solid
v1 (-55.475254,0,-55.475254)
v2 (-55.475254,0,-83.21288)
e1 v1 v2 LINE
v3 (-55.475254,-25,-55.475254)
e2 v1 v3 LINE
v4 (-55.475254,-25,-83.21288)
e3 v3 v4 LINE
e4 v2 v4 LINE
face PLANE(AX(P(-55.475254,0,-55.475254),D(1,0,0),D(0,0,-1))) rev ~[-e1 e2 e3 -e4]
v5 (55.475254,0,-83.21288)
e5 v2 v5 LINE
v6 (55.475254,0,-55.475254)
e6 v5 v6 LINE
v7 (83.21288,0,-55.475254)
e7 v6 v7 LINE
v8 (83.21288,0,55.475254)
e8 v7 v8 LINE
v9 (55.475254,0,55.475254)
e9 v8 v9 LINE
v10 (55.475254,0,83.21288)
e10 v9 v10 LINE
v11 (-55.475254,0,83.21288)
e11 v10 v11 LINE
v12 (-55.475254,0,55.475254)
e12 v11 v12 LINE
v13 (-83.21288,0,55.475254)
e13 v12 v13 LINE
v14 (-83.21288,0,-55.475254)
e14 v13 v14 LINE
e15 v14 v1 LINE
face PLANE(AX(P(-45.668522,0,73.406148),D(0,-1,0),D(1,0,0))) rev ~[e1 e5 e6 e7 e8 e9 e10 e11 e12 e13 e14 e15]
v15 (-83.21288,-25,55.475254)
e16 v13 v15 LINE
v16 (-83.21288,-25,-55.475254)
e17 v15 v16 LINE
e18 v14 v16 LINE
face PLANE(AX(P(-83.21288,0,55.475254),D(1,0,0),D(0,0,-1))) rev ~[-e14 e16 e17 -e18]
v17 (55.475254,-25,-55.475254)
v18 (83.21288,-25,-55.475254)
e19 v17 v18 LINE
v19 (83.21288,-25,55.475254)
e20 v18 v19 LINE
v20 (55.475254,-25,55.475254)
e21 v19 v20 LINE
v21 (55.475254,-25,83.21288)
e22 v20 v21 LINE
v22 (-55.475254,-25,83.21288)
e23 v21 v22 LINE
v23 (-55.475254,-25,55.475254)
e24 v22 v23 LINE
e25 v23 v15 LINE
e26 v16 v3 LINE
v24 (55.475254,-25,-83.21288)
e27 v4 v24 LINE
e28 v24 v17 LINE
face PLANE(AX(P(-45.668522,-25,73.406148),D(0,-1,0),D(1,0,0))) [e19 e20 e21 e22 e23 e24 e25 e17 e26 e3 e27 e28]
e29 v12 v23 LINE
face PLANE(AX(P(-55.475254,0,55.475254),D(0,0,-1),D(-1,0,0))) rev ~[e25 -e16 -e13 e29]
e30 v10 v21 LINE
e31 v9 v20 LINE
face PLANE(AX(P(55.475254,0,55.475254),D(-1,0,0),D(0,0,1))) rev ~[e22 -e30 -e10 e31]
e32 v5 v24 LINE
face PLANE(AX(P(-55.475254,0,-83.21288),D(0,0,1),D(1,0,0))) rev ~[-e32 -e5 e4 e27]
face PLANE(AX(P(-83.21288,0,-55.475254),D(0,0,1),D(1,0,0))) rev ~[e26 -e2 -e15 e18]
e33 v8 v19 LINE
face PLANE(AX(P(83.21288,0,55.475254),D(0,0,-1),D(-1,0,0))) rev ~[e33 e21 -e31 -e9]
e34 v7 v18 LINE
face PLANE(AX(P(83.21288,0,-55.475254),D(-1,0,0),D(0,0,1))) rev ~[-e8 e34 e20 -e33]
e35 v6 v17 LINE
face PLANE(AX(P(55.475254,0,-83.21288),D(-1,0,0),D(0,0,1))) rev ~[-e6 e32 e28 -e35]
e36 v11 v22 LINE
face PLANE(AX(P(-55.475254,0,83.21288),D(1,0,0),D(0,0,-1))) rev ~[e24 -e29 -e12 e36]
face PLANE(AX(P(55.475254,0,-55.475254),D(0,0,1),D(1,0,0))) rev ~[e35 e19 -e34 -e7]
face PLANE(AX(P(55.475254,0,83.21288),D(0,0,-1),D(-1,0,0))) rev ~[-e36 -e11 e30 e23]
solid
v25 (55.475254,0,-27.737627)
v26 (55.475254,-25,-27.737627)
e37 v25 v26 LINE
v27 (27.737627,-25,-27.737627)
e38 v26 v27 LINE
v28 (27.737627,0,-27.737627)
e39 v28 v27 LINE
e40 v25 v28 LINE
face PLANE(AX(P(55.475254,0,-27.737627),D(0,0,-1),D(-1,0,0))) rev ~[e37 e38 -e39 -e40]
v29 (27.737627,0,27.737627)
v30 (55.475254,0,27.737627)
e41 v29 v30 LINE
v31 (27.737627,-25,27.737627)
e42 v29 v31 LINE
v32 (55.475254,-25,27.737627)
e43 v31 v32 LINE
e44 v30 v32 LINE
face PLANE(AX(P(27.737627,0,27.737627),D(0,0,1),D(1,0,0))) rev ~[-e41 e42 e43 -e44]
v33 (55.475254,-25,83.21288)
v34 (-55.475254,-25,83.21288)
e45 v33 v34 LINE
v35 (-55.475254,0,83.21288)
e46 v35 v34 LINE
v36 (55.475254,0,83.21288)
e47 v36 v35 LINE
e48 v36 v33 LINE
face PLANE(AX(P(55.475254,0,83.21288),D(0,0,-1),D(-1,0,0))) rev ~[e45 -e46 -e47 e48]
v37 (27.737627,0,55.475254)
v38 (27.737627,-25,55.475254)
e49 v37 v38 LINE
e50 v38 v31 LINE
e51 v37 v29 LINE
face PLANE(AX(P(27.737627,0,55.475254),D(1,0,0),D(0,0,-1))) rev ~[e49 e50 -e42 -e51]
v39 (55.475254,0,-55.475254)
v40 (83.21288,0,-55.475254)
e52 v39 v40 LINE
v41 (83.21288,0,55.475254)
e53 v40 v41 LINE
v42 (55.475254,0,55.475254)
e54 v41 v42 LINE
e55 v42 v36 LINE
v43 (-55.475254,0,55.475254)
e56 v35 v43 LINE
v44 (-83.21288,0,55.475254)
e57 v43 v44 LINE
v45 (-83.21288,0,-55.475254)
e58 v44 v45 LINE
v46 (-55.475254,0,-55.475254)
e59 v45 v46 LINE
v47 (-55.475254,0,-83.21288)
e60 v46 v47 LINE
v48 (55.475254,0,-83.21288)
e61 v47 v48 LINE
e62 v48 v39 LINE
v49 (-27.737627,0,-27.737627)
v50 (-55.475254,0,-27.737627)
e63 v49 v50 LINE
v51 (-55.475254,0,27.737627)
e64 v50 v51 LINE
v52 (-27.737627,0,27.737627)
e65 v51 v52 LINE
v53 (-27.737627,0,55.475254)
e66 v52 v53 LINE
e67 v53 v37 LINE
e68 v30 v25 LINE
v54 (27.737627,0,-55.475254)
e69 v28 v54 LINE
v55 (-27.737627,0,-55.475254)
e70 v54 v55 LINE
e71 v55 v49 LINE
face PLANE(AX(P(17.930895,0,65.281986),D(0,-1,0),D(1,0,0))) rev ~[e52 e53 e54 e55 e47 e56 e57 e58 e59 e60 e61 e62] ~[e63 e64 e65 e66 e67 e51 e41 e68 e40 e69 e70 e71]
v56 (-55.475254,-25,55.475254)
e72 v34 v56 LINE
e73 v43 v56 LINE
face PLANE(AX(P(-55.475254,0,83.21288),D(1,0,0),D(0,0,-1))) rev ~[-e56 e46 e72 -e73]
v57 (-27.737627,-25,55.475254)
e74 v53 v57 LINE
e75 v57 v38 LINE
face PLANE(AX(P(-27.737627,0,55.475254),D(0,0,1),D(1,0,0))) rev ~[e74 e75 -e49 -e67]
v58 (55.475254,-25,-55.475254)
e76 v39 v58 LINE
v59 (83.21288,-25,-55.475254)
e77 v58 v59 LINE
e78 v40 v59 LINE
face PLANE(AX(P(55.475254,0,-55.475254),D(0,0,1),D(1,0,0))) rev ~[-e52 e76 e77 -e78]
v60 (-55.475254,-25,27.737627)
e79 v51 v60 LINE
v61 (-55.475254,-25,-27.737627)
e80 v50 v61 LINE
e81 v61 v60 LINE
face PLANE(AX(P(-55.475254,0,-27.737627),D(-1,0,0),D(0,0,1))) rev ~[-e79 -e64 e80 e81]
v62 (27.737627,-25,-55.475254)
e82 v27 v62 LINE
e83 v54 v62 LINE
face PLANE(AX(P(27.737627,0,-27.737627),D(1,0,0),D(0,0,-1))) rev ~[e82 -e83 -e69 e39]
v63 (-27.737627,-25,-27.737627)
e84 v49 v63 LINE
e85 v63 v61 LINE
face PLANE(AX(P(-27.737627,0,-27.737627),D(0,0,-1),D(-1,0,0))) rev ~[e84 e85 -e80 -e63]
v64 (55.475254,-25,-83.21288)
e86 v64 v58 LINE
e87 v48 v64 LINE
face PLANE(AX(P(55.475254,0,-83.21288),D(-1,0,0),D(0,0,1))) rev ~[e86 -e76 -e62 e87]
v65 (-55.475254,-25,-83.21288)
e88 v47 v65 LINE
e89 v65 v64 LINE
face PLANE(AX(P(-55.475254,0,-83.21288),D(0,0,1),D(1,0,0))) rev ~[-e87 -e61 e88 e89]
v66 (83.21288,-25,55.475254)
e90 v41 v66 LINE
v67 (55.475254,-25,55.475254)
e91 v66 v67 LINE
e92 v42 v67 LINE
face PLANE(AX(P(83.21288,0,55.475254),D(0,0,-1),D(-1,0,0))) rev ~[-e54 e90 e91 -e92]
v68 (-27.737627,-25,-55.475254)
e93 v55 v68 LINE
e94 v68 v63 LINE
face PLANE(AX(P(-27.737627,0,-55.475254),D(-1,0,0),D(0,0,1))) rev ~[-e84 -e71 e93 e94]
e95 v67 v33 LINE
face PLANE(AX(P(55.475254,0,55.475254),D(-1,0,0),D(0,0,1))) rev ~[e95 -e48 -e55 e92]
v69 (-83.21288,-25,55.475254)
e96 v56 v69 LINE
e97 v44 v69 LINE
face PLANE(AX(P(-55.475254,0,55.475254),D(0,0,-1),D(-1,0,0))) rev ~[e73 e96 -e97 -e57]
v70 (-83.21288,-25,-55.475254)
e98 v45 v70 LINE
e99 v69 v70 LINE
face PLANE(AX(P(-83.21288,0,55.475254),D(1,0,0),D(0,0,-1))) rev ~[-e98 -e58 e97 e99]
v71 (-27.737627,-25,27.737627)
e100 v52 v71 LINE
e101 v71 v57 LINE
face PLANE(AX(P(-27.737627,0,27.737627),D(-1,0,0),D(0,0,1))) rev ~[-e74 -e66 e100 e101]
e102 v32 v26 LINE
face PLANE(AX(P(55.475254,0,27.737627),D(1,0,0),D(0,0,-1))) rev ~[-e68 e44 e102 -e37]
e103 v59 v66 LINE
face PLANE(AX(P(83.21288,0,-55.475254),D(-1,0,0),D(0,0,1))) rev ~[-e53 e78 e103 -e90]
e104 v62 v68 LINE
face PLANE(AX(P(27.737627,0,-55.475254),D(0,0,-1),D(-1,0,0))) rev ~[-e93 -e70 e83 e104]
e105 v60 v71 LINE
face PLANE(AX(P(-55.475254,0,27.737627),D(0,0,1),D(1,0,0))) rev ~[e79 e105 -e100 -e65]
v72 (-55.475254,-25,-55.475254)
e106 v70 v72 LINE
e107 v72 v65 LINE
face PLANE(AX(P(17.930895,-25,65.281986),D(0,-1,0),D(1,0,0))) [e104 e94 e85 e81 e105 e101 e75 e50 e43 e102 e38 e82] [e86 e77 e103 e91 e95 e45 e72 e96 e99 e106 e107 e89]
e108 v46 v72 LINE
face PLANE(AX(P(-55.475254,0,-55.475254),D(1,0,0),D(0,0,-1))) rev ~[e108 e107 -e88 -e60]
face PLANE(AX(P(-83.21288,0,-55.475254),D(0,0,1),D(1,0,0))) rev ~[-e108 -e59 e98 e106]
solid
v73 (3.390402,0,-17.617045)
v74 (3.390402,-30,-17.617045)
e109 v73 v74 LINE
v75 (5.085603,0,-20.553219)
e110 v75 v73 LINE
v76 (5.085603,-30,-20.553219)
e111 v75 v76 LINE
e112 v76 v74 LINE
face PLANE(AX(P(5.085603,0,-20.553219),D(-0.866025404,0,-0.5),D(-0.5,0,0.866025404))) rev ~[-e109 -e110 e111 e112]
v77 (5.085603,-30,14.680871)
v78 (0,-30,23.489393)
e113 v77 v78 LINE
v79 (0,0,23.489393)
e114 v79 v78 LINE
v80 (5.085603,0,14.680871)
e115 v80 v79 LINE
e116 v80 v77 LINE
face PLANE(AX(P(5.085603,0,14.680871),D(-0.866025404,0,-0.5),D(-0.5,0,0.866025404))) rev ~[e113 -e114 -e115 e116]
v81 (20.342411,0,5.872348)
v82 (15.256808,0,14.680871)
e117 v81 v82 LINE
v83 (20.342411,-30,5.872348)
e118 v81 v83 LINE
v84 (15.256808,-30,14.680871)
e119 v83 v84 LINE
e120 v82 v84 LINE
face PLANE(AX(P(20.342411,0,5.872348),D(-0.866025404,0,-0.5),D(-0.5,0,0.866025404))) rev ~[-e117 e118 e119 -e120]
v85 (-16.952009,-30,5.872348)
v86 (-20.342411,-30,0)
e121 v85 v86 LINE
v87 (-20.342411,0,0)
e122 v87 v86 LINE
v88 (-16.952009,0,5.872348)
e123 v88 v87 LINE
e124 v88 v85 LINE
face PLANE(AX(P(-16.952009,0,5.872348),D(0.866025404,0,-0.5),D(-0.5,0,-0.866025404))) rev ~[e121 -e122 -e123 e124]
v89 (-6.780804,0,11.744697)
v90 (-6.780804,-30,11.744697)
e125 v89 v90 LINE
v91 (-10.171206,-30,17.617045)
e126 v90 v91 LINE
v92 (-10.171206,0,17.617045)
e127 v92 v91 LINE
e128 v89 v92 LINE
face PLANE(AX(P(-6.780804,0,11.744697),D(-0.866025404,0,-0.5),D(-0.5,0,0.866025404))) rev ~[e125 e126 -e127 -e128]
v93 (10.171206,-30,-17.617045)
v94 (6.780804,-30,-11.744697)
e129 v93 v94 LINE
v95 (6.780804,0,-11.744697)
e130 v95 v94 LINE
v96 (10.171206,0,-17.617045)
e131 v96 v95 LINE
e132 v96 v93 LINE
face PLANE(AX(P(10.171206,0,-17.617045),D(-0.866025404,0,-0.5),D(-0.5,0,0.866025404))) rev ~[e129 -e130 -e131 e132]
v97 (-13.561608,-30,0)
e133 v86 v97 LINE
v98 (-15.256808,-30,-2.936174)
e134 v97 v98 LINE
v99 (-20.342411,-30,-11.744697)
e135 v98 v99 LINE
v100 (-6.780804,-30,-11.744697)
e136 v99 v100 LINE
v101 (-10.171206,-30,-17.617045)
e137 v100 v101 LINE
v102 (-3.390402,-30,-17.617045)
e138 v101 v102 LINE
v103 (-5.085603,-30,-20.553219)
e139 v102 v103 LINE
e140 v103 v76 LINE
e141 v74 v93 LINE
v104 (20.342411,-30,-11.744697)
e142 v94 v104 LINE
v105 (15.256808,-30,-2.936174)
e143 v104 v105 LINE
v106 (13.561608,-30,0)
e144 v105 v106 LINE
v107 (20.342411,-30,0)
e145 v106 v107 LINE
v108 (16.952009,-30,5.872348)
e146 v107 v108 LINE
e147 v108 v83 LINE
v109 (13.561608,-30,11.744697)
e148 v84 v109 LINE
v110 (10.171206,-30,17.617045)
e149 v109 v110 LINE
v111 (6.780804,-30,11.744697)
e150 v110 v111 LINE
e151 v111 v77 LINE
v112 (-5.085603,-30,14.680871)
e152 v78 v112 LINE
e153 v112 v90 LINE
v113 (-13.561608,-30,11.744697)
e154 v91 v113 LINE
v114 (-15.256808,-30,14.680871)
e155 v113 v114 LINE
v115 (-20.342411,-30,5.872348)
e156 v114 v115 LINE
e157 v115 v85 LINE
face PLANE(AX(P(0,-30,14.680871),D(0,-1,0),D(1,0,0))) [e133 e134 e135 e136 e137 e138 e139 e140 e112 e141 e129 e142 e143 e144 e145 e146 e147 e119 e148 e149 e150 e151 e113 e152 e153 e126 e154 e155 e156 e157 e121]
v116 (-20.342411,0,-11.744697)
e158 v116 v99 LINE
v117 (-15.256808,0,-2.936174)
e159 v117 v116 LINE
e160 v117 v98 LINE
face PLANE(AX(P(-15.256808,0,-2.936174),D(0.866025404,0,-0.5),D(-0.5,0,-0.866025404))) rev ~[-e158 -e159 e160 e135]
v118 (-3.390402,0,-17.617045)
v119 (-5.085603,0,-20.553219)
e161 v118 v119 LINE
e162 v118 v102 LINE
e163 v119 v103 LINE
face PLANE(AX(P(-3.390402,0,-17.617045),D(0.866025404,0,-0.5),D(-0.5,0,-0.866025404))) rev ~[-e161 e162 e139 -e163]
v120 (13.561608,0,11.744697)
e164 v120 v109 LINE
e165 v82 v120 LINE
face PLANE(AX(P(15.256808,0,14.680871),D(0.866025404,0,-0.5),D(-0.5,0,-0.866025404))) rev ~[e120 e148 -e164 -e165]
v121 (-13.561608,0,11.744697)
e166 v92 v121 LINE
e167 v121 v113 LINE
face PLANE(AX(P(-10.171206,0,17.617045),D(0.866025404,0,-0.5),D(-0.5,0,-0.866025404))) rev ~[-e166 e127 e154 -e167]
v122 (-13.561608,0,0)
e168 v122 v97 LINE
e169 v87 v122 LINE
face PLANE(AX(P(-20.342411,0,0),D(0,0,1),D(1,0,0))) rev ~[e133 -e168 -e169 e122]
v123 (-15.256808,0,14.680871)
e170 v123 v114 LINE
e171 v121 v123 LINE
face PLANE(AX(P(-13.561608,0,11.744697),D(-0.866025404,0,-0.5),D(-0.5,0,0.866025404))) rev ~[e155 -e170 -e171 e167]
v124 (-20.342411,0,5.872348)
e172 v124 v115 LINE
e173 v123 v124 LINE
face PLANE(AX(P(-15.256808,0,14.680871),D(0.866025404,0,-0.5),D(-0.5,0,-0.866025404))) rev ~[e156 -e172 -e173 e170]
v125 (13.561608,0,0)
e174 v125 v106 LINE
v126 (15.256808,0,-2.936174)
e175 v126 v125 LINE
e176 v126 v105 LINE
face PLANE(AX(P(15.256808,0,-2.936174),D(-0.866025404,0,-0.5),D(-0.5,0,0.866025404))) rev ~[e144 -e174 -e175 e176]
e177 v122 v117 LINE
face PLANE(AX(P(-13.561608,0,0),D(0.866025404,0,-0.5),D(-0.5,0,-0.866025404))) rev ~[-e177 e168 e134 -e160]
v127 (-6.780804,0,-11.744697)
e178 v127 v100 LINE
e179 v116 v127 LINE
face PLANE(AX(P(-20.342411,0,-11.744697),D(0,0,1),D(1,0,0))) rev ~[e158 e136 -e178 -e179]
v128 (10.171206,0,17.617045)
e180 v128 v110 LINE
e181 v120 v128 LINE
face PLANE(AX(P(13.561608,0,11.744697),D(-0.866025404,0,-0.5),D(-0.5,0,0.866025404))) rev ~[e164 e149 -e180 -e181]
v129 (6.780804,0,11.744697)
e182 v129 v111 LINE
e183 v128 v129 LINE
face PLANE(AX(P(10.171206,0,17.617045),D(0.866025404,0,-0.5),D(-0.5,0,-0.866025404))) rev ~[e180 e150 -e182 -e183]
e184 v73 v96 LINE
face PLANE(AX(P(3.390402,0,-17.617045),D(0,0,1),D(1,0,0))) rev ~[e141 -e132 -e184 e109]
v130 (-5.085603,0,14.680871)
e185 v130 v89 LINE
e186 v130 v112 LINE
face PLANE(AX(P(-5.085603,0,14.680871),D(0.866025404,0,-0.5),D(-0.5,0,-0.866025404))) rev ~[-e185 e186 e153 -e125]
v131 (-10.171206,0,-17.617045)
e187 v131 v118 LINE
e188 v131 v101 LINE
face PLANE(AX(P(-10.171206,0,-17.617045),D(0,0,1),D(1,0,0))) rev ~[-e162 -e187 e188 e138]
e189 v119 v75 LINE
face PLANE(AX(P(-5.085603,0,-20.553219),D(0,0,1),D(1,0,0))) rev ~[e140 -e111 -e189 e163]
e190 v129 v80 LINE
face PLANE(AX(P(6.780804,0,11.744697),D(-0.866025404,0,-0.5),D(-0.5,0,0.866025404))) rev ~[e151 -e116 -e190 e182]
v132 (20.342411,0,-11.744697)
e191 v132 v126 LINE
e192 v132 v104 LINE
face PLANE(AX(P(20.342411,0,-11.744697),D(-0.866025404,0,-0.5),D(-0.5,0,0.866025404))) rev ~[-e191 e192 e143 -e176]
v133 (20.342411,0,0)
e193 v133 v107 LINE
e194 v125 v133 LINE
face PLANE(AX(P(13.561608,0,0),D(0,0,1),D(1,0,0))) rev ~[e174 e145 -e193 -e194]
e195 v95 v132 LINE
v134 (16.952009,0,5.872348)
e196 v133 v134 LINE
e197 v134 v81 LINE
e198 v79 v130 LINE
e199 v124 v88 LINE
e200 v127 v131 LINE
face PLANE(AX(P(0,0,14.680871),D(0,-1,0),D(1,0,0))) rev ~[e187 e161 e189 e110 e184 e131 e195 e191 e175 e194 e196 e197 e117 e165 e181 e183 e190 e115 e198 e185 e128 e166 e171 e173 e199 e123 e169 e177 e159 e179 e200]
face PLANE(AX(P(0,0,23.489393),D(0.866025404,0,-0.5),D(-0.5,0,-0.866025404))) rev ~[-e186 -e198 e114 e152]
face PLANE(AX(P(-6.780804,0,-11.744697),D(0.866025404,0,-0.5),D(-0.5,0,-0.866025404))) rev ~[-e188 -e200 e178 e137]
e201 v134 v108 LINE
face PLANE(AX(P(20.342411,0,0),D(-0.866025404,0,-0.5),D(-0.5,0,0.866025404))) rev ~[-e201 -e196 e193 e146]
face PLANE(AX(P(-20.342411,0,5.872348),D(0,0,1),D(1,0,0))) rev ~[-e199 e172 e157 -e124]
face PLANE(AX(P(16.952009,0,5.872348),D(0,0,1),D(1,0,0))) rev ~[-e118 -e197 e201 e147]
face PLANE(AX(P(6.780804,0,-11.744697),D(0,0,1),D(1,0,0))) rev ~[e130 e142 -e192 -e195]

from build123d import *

# Parameters (mm, degrees)
F1_DEPTH = 30
F3_DEPTH = 25
F4_DEPTH = 25
F6_DEPTH = 25


with BuildPart() as f1:
    # F0 (on Front) → F1 (new body)
    with BuildSketch(Plane.XZ):
        Polygon((5.085602828, 14.6808708087), (0, 23.4893932939), (-5.085602828, 14.6808708087), (0, 5.8723483235), align=None)
        Polygon((6.7808037707, 11.7446966469), (5.085602828, 14.6808708087), (0, 5.8723483235), (3.3904018853, 5.8723483235), align=None)
        Polygon((10.171205656, 5.8723483235), (6.7808037707, 11.7446966469), (3.3904018853, 5.8723483235), align=None)
        Polygon((10.171205656, 17.6170449704), (6.7808037707, 11.7446966469), (10.171205656, 5.8723483235), (13.5616075413, 11.7446966469), align=None)
        Polygon((13.5616075413, 11.7446966469), (10.171205656, 5.8723483235), (16.9520094266, 5.8723483235), align=None)
        Polygon((15.256808484, 14.6808708087), (13.5616075413, 11.7446966469), (16.9520094266, 5.8723483235), (20.342411312, 5.8723483235), align=None)
        Polygon((16.9520094266, 5.8723483235), (10.171205656, 5.8723483235), (13.5616075413, 0), (20.342411312, 0), align=None)
        Polygon((13.5616075413, 0), (10.171205656, 5.8723483235), (6.7808037707, 0), align=None)
        Polygon((10.171205656, 5.8723483235), (3.3904018853, 5.8723483235), (0, 0), (6.7808037707, 0), align=None)
        Polygon((0, 5.8723483235), (-5.085602828, 14.6808708087), (-6.7808037707, 11.7446966469), (-3.3904018853, 5.8723483235), align=None)
        Polygon((-3.3904018853, 5.8723483235), (-6.7808037707, 11.7446966469), (-10.171205656, 5.8723483235), align=None)
        Polygon((-10.171205656, 5.8723483235), (-6.7808037707, 11.7446966469), (-10.171205656, 17.6170449704), (-13.5616075413, 11.7446966469), align=None)
        Polygon((-16.9520094266, 5.8723483235), (-13.5616075413, 11.7446966469), (-15.256808484, 14.6808708087), (-20.342411312, 5.8723483235), align=None)
        Polygon((-16.9520094266, 5.8723483235), (-10.171205656, 5.8723483235), (-13.5616075413, 11.7446966469), align=None)
        Polygon((-13.5616075413, 0), (-10.171205656, 5.8723483235), (-16.9520094266, 5.8723483235), (-20.342411312, 0), align=None)
        Polygon((-6.7808037707, 0), (-10.171205656, 5.8723483235), (-13.5616075413, 0), align=None)
        Polygon((0, 0), (-3.3904018853, 5.8723483235), (-10.171205656, 5.8723483235), (-6.7808037707, 0), align=None)
        Polygon((3.3904018853, 5.8723483235), (0, 5.8723483235), (-3.3904018853, 5.8723483235), (0, 0), align=None)
        Polygon((15.256808484, -2.9361741617), (13.5616075413, 0), (6.7808037707, 0), (5.085602828, -2.9361741617), align=None)
        Polygon((20.342411312, -11.7446966469), (15.256808484, -2.9361741617), (5.085602828, -2.9361741617), (10.171205656, -11.7446966469), align=None)
        Polygon((5.085602828, -2.9361741617), (3.3904018853, -5.8723483235), (6.7808037707, -11.7446966469), (10.171205656, -11.7446966469), align=None)
        Polygon((6.7808037707, -11.7446966469), (3.3904018853, -5.8723483235), (0, -11.7446966469), align=None)
        Polygon((3.3904018853, -5.8723483235), (0, 0), (-3.3904018853, -5.8723483235), (0, -11.7446966469), align=None)
        Polygon((6.7808037707, 0), (0, 0), (3.3904018853, -5.8723483235), (5.085602828, -2.9361741617), align=None)
        Polygon((-3.3904018853, -5.8723483235), (0, 0), (-6.7808037707, 0), (-5.085602828, -2.9361741617), align=None)
        Polygon((-6.7808037707, -11.7446966469), (-3.3904018853, -5.8723483235), (-5.085602828, -2.9361741617), (-10.171205656, -11.7446966469), align=None)
        Polygon((-5.085602828, -2.9361741617), (-6.7808037707, 0), (-13.5616075413, 0), (-15.256808484, -2.9361741617), align=None)
        Polygon((-10.171205656, -11.7446966469), (-5.085602828, -2.9361741617), (-15.256808484, -2.9361741617), (-20.342411312, -11.7446966469), align=None)
        Polygon((0, -11.7446966469), (-3.3904018853, -5.8723483235), (-6.7808037707, -11.7446966469), align=None)
        Polygon((-3.3904018853, -17.6170449704), (0, -11.7446966469), (-6.7808037707, -11.7446966469), (-10.171205656, -17.6170449704), align=None)
        Polygon((3.3904018853, -17.6170449704), (0, -11.7446966469), (-3.3904018853, -17.6170449704), align=None)
        Polygon((10.171205656, -17.6170449704), (6.7808037707, -11.7446966469), (0, -11.7446966469), (3.3904018853, -17.6170449704), align=None)
        Polygon((5.085602828, -20.5532191321), (3.3904018853, -17.6170449704), (-3.3904018853, -17.6170449704), (-5.085602828, -20.5532191321), align=None)
    extrude(amount=F1_DEPTH)


with BuildPart() as f3:
    # F2 (on Front) → F3 (new body)
    with BuildSketch(Plane.XZ):
        Polygon((27.7376268059, 83.2128804177), (0, 55.4752536118), (27.7376268059, 55.4752536118), align=None)
        Polygon((0, 83.2128804177), (0, 55.4752536118), (27.7376268059, 83.2128804177), align=None)
        Polygon((-27.7376268059, 55.4752536118), (0, 55.4752536118), (-27.7376268059, 83.2128804177), align=None)
        Polygon((-27.7376268059, 83.2128804177), (0, 55.4752536118), (0, 83.2128804177), align=None)
        Polygon((27.7376268059, 55.4752536118), (27.7376268059, 27.7376268059), (55.4752536118, 55.4752536118), align=None)
        Polygon((55.4752536118, 55.4752536118), (27.7376268059, 27.7376268059), (55.4752536118, 27.7376268059), align=None)
        Polygon((-55.4752536118, 27.7376268059), (-27.7376268059, 27.7376268059), (-55.4752536118, 55.4752536118), align=None)
        Polygon((-55.4752536118, 55.4752536118), (-27.7376268059, 27.7376268059), (-27.7376268059, 55.4752536118), align=None)
        Polygon((27.7376268059, 83.2128804177), (27.7376268059, 55.4752536118), (55.4752536118, 55.4752536118), align=None)
        Polygon((-55.4752536118, 55.4752536118), (-27.7376268059, 55.4752536118), (-27.7376268059, 83.2128804177), align=None)
        Polygon((55.4752536118, 83.2128804177), (27.7376268059, 83.2128804177), (55.4752536118, 55.4752536118), align=None)
        Polygon((-55.4752536118, 55.4752536118), (-27.7376268059, 83.2128804177), (-55.4752536118, 83.2128804177), align=None)
        Polygon((83.2128804177, -27.7376268059), (55.4752536118, 0), (55.4752536118, -27.7376268059), align=None)
        Polygon((55.4752536118, 27.7376268059), (55.4752536118, 0), (83.2128804177, 27.7376268059), align=None)
        Polygon((83.2128804177, 0), (55.4752536118, 0), (83.2128804177, -27.7376268059), align=None)
        Polygon((83.2128804177, 27.7376268059), (55.4752536118, 0), (83.2128804177, 0), align=None)
        Polygon((83.2128804177, 27.7376268059), (55.4752536118, 55.4752536118), (55.4752536118, 27.7376268059), align=None)
        Polygon((83.2128804177, 55.4752536118), (55.4752536118, 55.4752536118), (83.2128804177, 27.7376268059), align=None)
        Polygon((-83.2128804177, 27.7376268059), (-55.4752536118, 0), (-55.4752536118, 27.7376268059), align=None)
        Polygon((-55.4752536118, -27.7376268059), (-55.4752536118, 0), (-83.2128804177, -27.7376268059), align=None)
        Polygon((-83.2128804177, 0), (-55.4752536118, 0), (-83.2128804177, 27.7376268059), align=None)
        Polygon((-83.2128804177, -27.7376268059), (-55.4752536118, 0), (-83.2128804177, 0), align=None)
        Polygon((-55.4752536118, 27.7376268059), (-55.4752536118, 55.4752536118), (-83.2128804177, 27.7376268059), align=None)
        Polygon((-83.2128804177, 27.7376268059), (-55.4752536118, 55.4752536118), (-83.2128804177, 55.4752536118), align=None)
        Polygon((55.4752536118, -27.7376268059), (27.7376268059, -27.7376268059), (55.4752536118, -55.4752536118), align=None)
        Polygon((55.4752536118, -55.4752536118), (27.7376268059, -27.7376268059), (27.7376268059, -55.4752536118), align=None)
        Polygon((83.2128804177, -27.7376268059), (55.4752536118, -27.7376268059), (55.4752536118, -55.4752536118), align=None)
        Polygon((83.2128804177, -55.4752536118), (83.2128804177, -27.7376268059), (55.4752536118, -55.4752536118), align=None)
        Polygon((-27.7376268059, -55.4752536118), (-27.7376268059, -27.7376268059), (-55.4752536118, -55.4752536118), align=None)
        Polygon((-55.4752536118, -55.4752536118), (-27.7376268059, -27.7376268059), (-55.4752536118, -27.7376268059), align=None)
        Polygon((-55.4752536118, -55.4752536118), (-55.4752536118, -27.7376268059), (-83.2128804177, -27.7376268059), align=None)
        Polygon((-55.4752536118, -55.4752536118), (-83.2128804177, -27.7376268059), (-83.2128804177, -55.4752536118), align=None)
        Polygon((-27.7376268059, -83.2128804177), (0, -55.4752536118), (-27.7376268059, -55.4752536118), align=None)
        Polygon((27.7376268059, -55.4752536118), (0, -55.4752536118), (27.7376268059, -83.2128804177), align=None)
        Polygon((0, -83.2128804177), (0, -55.4752536118), (-27.7376268059, -83.2128804177), align=None)
        Polygon((27.7376268059, -83.2128804177), (0, -55.4752536118), (0, -83.2128804177), align=None)
        Polygon((27.7376268059, -83.2128804177), (55.4752536118, -55.4752536118), (27.7376268059, -55.4752536118), align=None)
        Polygon((55.4752536118, -83.2128804177), (55.4752536118, -55.4752536118), (27.7376268059, -83.2128804177), align=None)
        Polygon((-27.7376268059, -55.4752536118), (-55.4752536118, -55.4752536118), (-27.7376268059, -83.2128804177), align=None)
        Polygon((-27.7376268059, -83.2128804177), (-55.4752536118, -55.4752536118), (-55.4752536118, -83.2128804177), align=None)
    extrude(amount=F3_DEPTH)


with BuildPart() as f4:
    # F0 (on Front) → F4 (new body)
    with BuildSketch(Plane.XZ):
        Polygon((5.085602828, 14.6808708087), (0, 23.4893932939), (-5.085602828, 14.6808708087), (0, 5.8723483235), align=None)
        Polygon((6.7808037707, 11.7446966469), (5.085602828, 14.6808708087), (0, 5.8723483235), (3.3904018853, 5.8723483235), align=None)
        Polygon((0, 5.8723483235), (-5.085602828, 14.6808708087), (-6.7808037707, 11.7446966469), (-3.3904018853, 5.8723483235), align=None)
        Polygon((10.171205656, 5.8723483235), (6.7808037707, 11.7446966469), (3.3904018853, 5.8723483235), align=None)
        Polygon((10.171205656, 17.6170449704), (6.7808037707, 11.7446966469), (10.171205656, 5.8723483235), (13.5616075413, 11.7446966469), align=None)
        Polygon((-10.171205656, 5.8723483235), (-6.7808037707, 11.7446966469), (-10.171205656, 17.6170449704), (-13.5616075413, 11.7446966469), align=None)
        Polygon((-3.3904018853, 5.8723483235), (-6.7808037707, 11.7446966469), (-10.171205656, 5.8723483235), align=None)
        Polygon((16.9520094266, 5.8723483235), (10.171205656, 5.8723483235), (13.5616075413, 0), (20.342411312, 0), align=None)
        Polygon((13.5616075413, 0), (10.171205656, 5.8723483235), (6.7808037707, 0), align=None)
        Polygon((13.5616075413, 11.7446966469), (10.171205656, 5.8723483235), (16.9520094266, 5.8723483235), align=None)
        Polygon((-13.5616075413, 0), (-10.171205656, 5.8723483235), (-16.9520094266, 5.8723483235), (-20.342411312, 0), align=None)
        Polygon((-16.9520094266, 5.8723483235), (-10.171205656, 5.8723483235), (-13.5616075413, 11.7446966469), align=None)
        Polygon((-6.7808037707, 0), (-10.171205656, 5.8723483235), (-13.5616075413, 0), align=None)
        Polygon((15.256808484, 14.6808708087), (13.5616075413, 11.7446966469), (16.9520094266, 5.8723483235), (20.342411312, 5.8723483235), align=None)
        Polygon((15.256808484, -2.9361741617), (13.5616075413, 0), (6.7808037707, 0), (5.085602828, -2.9361741617), align=None)
        Polygon((-16.9520094266, 5.8723483235), (-13.5616075413, 11.7446966469), (-15.256808484, 14.6808708087), (-20.342411312, 5.8723483235), align=None)
        Polygon((-5.085602828, -2.9361741617), (-6.7808037707, 0), (-13.5616075413, 0), (-15.256808484, -2.9361741617), align=None)
        Polygon((5.085602828, -2.9361741617), (3.3904018853, -5.8723483235), (6.7808037707, -11.7446966469), (10.171205656, -11.7446966469), align=None)
        Polygon((6.7808037707, -11.7446966469), (3.3904018853, -5.8723483235), (0, -11.7446966469), align=None)
        Polygon((0, -11.7446966469), (-3.3904018853, -5.8723483235), (-6.7808037707, -11.7446966469), align=None)
        Polygon((-6.7808037707, -11.7446966469), (-3.3904018853, -5.8723483235), (-5.085602828, -2.9361741617), (-10.171205656, -11.7446966469), align=None)
        Polygon((20.342411312, -11.7446966469), (15.256808484, -2.9361741617), (5.085602828, -2.9361741617), (10.171205656, -11.7446966469), align=None)
        Polygon((-10.171205656, -11.7446966469), (-5.085602828, -2.9361741617), (-15.256808484, -2.9361741617), (-20.342411312, -11.7446966469), align=None)
        Polygon((10.171205656, -17.6170449704), (6.7808037707, -11.7446966469), (0, -11.7446966469), (3.3904018853, -17.6170449704), align=None)
        Polygon((-3.3904018853, -17.6170449704), (0, -11.7446966469), (-6.7808037707, -11.7446966469), (-10.171205656, -17.6170449704), align=None)
        Polygon((3.3904018853, -17.6170449704), (0, -11.7446966469), (-3.3904018853, -17.6170449704), align=None)
        Polygon((5.085602828, -20.5532191321), (3.3904018853, -17.6170449704), (-3.3904018853, -17.6170449704), (-5.085602828, -20.5532191321), align=None)
    extrude(amount=F4_DEPTH)


with BuildPart() as f6:
    # F2 (on Front) → F6 (new body)
    with BuildSketch(Plane.XZ):
        Polygon((-55.4752536118, 55.4752536118), (-27.7376268059, 83.2128804177), (-55.4752536118, 83.2128804177), align=None)
        Polygon((-55.4752536118, 55.4752536118), (-27.7376268059, 55.4752536118), (-27.7376268059, 83.2128804177), align=None)
        Polygon((-27.7376268059, 55.4752536118), (0, 55.4752536118), (-27.7376268059, 83.2128804177), align=None)
        Polygon((-27.7376268059, 83.2128804177), (0, 55.4752536118), (0, 83.2128804177), align=None)
        Polygon((0, 83.2128804177), (0, 55.4752536118), (27.7376268059, 83.2128804177), align=None)
        Polygon((27.7376268059, 83.2128804177), (0, 55.4752536118), (27.7376268059, 55.4752536118), align=None)
        Polygon((27.7376268059, 83.2128804177), (27.7376268059, 55.4752536118), (55.4752536118, 55.4752536118), align=None)
        Polygon((55.4752536118, 83.2128804177), (27.7376268059, 83.2128804177), (55.4752536118, 55.4752536118), align=None)
        Polygon((83.2128804177, 55.4752536118), (55.4752536118, 55.4752536118), (83.2128804177, 27.7376268059), align=None)
        Polygon((83.2128804177, 27.7376268059), (55.4752536118, 55.4752536118), (55.4752536118, 27.7376268059), align=None)
        Polygon((55.4752536118, 55.4752536118), (27.7376268059, 27.7376268059), (55.4752536118, 27.7376268059), align=None)
        Polygon((27.7376268059, 55.4752536118), (27.7376268059, 27.7376268059), (55.4752536118, 55.4752536118), align=None)
        Polygon((27.7376268059, 55.4752536118), (0, 55.4752536118), (27.7376268059, 27.7376268059), align=None)
        Polygon((27.7376268059, 27.7376268059), (0, 55.4752536118), (0, 27.7376268059), align=None)
        Polygon((0, 27.7376268059), (0, 55.4752536118), (-27.7376268059, 27.7376268059), align=None)
        Polygon((-27.7376268059, 27.7376268059), (0, 55.4752536118), (-27.7376268059, 55.4752536118), align=None)
        Polygon((-55.4752536118, 55.4752536118), (-27.7376268059, 27.7376268059), (-27.7376268059, 55.4752536118), align=None)
        Polygon((-55.4752536118, 27.7376268059), (-27.7376268059, 27.7376268059), (-55.4752536118, 55.4752536118), align=None)
        Polygon((-55.4752536118, 27.7376268059), (-55.4752536118, 55.4752536118), (-83.2128804177, 27.7376268059), align=None)
        Polygon((-83.2128804177, 27.7376268059), (-55.4752536118, 55.4752536118), (-83.2128804177, 55.4752536118), align=None)
        Polygon((-83.2128804177, 0), (-55.4752536118, 0), (-83.2128804177, 27.7376268059), align=None)
        Polygon((-83.2128804177, 27.7376268059), (-55.4752536118, 0), (-55.4752536118, 27.7376268059), align=None)
        Polygon((-55.4752536118, 0), (-27.7376268059, 27.7376268059), (-55.4752536118, 27.7376268059), align=None)
        Polygon((-27.7376268059, 0), (-27.7376268059, 27.7376268059), (-55.4752536118, 0), align=None)
        Polygon((0, 0), (-27.7376268059, 27.7376268059), (-27.7376268059, 0), align=None)
        Polygon((0, 27.7376268059), (-27.7376268059, 27.7376268059), (0, 0), align=None)
        Polygon((0, 0), (27.7376268059, 27.7376268059), (0, 27.7376268059), align=None)
        Polygon((27.7376268059, 0), (27.7376268059, 27.7376268059), (0, 0), align=None)
        Polygon((55.4752536118, 0), (27.7376268059, 27.7376268059), (27.7376268059, 0), align=None)
        Polygon((55.4752536118, 27.7376268059), (27.7376268059, 27.7376268059), (55.4752536118, 0), align=None)
        Polygon((55.4752536118, 27.7376268059), (55.4752536118, 0), (83.2128804177, 27.7376268059), align=None)
        Polygon((83.2128804177, 27.7376268059), (55.4752536118, 0), (83.2128804177, 0), align=None)
        Polygon((83.2128804177, 0), (55.4752536118, 0), (83.2128804177, -27.7376268059), align=None)
        Polygon((83.2128804177, -27.7376268059), (55.4752536118, 0), (55.4752536118, -27.7376268059), align=None)
        Polygon((55.4752536118, -27.7376268059), (55.4752536118, 0), (27.7376268059, -27.7376268059), align=None)
        Polygon((27.7376268059, -27.7376268059), (55.4752536118, 0), (27.7376268059, 0), align=None)
        Polygon((27.7376268059, 0), (0, 0), (27.7376268059, -27.7376268059), align=None)
        Polygon((27.7376268059, -27.7376268059), (0, 0), (0, -27.7376268059), align=None)
        Polygon((0, -27.7376268059), (0, 0), (-27.7376268059, -27.7376268059), align=None)
        Polygon((-27.7376268059, -27.7376268059), (0, 0), (-27.7376268059, 0), align=None)
        Polygon((-27.7376268059, 0), (-55.4752536118, 0), (-27.7376268059, -27.7376268059), align=None)
        Polygon((-27.7376268059, -27.7376268059), (-55.4752536118, 0), (-55.4752536118, -27.7376268059), align=None)
        Polygon((-55.4752536118, -27.7376268059), (-55.4752536118, 0), (-83.2128804177, -27.7376268059), align=None)
        Polygon((-83.2128804177, -27.7376268059), (-55.4752536118, 0), (-83.2128804177, 0), align=None)
        Polygon((-55.4752536118, -55.4752536118), (-55.4752536118, -27.7376268059), (-83.2128804177, -27.7376268059), align=None)
        Polygon((-55.4752536118, -55.4752536118), (-83.2128804177, -27.7376268059), (-83.2128804177, -55.4752536118), align=None)
        Polygon((-55.4752536118, -55.4752536118), (-27.7376268059, -27.7376268059), (-55.4752536118, -27.7376268059), align=None)
        Polygon((-27.7376268059, -55.4752536118), (-27.7376268059, -27.7376268059), (-55.4752536118, -55.4752536118), align=None)
        Polygon((0, -55.4752536118), (-27.7376268059, -27.7376268059), (-27.7376268059, -55.4752536118), align=None)
        Polygon((0, -55.4752536118), (0, -27.7376268059), (-27.7376268059, -27.7376268059), align=None)
        Polygon((0, -55.4752536118), (27.7376268059, -27.7376268059), (0, -27.7376268059), align=None)
        Polygon((27.7376268059, -55.4752536118), (27.7376268059, -27.7376268059), (0, -55.4752536118), align=None)
        Polygon((55.4752536118, -55.4752536118), (27.7376268059, -27.7376268059), (27.7376268059, -55.4752536118), align=None)
        Polygon((55.4752536118, -27.7376268059), (27.7376268059, -27.7376268059), (55.4752536118, -55.4752536118), align=None)
        Polygon((83.2128804177, -27.7376268059), (55.4752536118, -27.7376268059), (55.4752536118, -55.4752536118), align=None)
        Polygon((83.2128804177, -55.4752536118), (83.2128804177, -27.7376268059), (55.4752536118, -55.4752536118), align=None)
        Polygon((55.4752536118, -83.2128804177), (55.4752536118, -55.4752536118), (27.7376268059, -83.2128804177), align=None)
        Polygon((27.7376268059, -83.2128804177), (55.4752536118, -55.4752536118), (27.7376268059, -55.4752536118), align=None)
        Polygon((27.7376268059, -55.4752536118), (0, -55.4752536118), (27.7376268059, -83.2128804177), align=None)
        Polygon((27.7376268059, -83.2128804177), (0, -55.4752536118), (0, -83.2128804177), align=None)
        Polygon((0, -83.2128804177), (0, -55.4752536118), (-27.7376268059, -83.2128804177), align=None)
        Polygon((-27.7376268059, -83.2128804177), (0, -55.4752536118), (-27.7376268059, -55.4752536118), align=None)
        Polygon((-27.7376268059, -55.4752536118), (-55.4752536118, -55.4752536118), (-27.7376268059, -83.2128804177), align=None)
        Polygon((-27.7376268059, -83.2128804177), (-55.4752536118, -55.4752536118), (-55.4752536118, -83.2128804177), align=None)
    extrude(amount=F6_DEPTH)


solid = Compound([f1.part, f3.part, f6.part])
